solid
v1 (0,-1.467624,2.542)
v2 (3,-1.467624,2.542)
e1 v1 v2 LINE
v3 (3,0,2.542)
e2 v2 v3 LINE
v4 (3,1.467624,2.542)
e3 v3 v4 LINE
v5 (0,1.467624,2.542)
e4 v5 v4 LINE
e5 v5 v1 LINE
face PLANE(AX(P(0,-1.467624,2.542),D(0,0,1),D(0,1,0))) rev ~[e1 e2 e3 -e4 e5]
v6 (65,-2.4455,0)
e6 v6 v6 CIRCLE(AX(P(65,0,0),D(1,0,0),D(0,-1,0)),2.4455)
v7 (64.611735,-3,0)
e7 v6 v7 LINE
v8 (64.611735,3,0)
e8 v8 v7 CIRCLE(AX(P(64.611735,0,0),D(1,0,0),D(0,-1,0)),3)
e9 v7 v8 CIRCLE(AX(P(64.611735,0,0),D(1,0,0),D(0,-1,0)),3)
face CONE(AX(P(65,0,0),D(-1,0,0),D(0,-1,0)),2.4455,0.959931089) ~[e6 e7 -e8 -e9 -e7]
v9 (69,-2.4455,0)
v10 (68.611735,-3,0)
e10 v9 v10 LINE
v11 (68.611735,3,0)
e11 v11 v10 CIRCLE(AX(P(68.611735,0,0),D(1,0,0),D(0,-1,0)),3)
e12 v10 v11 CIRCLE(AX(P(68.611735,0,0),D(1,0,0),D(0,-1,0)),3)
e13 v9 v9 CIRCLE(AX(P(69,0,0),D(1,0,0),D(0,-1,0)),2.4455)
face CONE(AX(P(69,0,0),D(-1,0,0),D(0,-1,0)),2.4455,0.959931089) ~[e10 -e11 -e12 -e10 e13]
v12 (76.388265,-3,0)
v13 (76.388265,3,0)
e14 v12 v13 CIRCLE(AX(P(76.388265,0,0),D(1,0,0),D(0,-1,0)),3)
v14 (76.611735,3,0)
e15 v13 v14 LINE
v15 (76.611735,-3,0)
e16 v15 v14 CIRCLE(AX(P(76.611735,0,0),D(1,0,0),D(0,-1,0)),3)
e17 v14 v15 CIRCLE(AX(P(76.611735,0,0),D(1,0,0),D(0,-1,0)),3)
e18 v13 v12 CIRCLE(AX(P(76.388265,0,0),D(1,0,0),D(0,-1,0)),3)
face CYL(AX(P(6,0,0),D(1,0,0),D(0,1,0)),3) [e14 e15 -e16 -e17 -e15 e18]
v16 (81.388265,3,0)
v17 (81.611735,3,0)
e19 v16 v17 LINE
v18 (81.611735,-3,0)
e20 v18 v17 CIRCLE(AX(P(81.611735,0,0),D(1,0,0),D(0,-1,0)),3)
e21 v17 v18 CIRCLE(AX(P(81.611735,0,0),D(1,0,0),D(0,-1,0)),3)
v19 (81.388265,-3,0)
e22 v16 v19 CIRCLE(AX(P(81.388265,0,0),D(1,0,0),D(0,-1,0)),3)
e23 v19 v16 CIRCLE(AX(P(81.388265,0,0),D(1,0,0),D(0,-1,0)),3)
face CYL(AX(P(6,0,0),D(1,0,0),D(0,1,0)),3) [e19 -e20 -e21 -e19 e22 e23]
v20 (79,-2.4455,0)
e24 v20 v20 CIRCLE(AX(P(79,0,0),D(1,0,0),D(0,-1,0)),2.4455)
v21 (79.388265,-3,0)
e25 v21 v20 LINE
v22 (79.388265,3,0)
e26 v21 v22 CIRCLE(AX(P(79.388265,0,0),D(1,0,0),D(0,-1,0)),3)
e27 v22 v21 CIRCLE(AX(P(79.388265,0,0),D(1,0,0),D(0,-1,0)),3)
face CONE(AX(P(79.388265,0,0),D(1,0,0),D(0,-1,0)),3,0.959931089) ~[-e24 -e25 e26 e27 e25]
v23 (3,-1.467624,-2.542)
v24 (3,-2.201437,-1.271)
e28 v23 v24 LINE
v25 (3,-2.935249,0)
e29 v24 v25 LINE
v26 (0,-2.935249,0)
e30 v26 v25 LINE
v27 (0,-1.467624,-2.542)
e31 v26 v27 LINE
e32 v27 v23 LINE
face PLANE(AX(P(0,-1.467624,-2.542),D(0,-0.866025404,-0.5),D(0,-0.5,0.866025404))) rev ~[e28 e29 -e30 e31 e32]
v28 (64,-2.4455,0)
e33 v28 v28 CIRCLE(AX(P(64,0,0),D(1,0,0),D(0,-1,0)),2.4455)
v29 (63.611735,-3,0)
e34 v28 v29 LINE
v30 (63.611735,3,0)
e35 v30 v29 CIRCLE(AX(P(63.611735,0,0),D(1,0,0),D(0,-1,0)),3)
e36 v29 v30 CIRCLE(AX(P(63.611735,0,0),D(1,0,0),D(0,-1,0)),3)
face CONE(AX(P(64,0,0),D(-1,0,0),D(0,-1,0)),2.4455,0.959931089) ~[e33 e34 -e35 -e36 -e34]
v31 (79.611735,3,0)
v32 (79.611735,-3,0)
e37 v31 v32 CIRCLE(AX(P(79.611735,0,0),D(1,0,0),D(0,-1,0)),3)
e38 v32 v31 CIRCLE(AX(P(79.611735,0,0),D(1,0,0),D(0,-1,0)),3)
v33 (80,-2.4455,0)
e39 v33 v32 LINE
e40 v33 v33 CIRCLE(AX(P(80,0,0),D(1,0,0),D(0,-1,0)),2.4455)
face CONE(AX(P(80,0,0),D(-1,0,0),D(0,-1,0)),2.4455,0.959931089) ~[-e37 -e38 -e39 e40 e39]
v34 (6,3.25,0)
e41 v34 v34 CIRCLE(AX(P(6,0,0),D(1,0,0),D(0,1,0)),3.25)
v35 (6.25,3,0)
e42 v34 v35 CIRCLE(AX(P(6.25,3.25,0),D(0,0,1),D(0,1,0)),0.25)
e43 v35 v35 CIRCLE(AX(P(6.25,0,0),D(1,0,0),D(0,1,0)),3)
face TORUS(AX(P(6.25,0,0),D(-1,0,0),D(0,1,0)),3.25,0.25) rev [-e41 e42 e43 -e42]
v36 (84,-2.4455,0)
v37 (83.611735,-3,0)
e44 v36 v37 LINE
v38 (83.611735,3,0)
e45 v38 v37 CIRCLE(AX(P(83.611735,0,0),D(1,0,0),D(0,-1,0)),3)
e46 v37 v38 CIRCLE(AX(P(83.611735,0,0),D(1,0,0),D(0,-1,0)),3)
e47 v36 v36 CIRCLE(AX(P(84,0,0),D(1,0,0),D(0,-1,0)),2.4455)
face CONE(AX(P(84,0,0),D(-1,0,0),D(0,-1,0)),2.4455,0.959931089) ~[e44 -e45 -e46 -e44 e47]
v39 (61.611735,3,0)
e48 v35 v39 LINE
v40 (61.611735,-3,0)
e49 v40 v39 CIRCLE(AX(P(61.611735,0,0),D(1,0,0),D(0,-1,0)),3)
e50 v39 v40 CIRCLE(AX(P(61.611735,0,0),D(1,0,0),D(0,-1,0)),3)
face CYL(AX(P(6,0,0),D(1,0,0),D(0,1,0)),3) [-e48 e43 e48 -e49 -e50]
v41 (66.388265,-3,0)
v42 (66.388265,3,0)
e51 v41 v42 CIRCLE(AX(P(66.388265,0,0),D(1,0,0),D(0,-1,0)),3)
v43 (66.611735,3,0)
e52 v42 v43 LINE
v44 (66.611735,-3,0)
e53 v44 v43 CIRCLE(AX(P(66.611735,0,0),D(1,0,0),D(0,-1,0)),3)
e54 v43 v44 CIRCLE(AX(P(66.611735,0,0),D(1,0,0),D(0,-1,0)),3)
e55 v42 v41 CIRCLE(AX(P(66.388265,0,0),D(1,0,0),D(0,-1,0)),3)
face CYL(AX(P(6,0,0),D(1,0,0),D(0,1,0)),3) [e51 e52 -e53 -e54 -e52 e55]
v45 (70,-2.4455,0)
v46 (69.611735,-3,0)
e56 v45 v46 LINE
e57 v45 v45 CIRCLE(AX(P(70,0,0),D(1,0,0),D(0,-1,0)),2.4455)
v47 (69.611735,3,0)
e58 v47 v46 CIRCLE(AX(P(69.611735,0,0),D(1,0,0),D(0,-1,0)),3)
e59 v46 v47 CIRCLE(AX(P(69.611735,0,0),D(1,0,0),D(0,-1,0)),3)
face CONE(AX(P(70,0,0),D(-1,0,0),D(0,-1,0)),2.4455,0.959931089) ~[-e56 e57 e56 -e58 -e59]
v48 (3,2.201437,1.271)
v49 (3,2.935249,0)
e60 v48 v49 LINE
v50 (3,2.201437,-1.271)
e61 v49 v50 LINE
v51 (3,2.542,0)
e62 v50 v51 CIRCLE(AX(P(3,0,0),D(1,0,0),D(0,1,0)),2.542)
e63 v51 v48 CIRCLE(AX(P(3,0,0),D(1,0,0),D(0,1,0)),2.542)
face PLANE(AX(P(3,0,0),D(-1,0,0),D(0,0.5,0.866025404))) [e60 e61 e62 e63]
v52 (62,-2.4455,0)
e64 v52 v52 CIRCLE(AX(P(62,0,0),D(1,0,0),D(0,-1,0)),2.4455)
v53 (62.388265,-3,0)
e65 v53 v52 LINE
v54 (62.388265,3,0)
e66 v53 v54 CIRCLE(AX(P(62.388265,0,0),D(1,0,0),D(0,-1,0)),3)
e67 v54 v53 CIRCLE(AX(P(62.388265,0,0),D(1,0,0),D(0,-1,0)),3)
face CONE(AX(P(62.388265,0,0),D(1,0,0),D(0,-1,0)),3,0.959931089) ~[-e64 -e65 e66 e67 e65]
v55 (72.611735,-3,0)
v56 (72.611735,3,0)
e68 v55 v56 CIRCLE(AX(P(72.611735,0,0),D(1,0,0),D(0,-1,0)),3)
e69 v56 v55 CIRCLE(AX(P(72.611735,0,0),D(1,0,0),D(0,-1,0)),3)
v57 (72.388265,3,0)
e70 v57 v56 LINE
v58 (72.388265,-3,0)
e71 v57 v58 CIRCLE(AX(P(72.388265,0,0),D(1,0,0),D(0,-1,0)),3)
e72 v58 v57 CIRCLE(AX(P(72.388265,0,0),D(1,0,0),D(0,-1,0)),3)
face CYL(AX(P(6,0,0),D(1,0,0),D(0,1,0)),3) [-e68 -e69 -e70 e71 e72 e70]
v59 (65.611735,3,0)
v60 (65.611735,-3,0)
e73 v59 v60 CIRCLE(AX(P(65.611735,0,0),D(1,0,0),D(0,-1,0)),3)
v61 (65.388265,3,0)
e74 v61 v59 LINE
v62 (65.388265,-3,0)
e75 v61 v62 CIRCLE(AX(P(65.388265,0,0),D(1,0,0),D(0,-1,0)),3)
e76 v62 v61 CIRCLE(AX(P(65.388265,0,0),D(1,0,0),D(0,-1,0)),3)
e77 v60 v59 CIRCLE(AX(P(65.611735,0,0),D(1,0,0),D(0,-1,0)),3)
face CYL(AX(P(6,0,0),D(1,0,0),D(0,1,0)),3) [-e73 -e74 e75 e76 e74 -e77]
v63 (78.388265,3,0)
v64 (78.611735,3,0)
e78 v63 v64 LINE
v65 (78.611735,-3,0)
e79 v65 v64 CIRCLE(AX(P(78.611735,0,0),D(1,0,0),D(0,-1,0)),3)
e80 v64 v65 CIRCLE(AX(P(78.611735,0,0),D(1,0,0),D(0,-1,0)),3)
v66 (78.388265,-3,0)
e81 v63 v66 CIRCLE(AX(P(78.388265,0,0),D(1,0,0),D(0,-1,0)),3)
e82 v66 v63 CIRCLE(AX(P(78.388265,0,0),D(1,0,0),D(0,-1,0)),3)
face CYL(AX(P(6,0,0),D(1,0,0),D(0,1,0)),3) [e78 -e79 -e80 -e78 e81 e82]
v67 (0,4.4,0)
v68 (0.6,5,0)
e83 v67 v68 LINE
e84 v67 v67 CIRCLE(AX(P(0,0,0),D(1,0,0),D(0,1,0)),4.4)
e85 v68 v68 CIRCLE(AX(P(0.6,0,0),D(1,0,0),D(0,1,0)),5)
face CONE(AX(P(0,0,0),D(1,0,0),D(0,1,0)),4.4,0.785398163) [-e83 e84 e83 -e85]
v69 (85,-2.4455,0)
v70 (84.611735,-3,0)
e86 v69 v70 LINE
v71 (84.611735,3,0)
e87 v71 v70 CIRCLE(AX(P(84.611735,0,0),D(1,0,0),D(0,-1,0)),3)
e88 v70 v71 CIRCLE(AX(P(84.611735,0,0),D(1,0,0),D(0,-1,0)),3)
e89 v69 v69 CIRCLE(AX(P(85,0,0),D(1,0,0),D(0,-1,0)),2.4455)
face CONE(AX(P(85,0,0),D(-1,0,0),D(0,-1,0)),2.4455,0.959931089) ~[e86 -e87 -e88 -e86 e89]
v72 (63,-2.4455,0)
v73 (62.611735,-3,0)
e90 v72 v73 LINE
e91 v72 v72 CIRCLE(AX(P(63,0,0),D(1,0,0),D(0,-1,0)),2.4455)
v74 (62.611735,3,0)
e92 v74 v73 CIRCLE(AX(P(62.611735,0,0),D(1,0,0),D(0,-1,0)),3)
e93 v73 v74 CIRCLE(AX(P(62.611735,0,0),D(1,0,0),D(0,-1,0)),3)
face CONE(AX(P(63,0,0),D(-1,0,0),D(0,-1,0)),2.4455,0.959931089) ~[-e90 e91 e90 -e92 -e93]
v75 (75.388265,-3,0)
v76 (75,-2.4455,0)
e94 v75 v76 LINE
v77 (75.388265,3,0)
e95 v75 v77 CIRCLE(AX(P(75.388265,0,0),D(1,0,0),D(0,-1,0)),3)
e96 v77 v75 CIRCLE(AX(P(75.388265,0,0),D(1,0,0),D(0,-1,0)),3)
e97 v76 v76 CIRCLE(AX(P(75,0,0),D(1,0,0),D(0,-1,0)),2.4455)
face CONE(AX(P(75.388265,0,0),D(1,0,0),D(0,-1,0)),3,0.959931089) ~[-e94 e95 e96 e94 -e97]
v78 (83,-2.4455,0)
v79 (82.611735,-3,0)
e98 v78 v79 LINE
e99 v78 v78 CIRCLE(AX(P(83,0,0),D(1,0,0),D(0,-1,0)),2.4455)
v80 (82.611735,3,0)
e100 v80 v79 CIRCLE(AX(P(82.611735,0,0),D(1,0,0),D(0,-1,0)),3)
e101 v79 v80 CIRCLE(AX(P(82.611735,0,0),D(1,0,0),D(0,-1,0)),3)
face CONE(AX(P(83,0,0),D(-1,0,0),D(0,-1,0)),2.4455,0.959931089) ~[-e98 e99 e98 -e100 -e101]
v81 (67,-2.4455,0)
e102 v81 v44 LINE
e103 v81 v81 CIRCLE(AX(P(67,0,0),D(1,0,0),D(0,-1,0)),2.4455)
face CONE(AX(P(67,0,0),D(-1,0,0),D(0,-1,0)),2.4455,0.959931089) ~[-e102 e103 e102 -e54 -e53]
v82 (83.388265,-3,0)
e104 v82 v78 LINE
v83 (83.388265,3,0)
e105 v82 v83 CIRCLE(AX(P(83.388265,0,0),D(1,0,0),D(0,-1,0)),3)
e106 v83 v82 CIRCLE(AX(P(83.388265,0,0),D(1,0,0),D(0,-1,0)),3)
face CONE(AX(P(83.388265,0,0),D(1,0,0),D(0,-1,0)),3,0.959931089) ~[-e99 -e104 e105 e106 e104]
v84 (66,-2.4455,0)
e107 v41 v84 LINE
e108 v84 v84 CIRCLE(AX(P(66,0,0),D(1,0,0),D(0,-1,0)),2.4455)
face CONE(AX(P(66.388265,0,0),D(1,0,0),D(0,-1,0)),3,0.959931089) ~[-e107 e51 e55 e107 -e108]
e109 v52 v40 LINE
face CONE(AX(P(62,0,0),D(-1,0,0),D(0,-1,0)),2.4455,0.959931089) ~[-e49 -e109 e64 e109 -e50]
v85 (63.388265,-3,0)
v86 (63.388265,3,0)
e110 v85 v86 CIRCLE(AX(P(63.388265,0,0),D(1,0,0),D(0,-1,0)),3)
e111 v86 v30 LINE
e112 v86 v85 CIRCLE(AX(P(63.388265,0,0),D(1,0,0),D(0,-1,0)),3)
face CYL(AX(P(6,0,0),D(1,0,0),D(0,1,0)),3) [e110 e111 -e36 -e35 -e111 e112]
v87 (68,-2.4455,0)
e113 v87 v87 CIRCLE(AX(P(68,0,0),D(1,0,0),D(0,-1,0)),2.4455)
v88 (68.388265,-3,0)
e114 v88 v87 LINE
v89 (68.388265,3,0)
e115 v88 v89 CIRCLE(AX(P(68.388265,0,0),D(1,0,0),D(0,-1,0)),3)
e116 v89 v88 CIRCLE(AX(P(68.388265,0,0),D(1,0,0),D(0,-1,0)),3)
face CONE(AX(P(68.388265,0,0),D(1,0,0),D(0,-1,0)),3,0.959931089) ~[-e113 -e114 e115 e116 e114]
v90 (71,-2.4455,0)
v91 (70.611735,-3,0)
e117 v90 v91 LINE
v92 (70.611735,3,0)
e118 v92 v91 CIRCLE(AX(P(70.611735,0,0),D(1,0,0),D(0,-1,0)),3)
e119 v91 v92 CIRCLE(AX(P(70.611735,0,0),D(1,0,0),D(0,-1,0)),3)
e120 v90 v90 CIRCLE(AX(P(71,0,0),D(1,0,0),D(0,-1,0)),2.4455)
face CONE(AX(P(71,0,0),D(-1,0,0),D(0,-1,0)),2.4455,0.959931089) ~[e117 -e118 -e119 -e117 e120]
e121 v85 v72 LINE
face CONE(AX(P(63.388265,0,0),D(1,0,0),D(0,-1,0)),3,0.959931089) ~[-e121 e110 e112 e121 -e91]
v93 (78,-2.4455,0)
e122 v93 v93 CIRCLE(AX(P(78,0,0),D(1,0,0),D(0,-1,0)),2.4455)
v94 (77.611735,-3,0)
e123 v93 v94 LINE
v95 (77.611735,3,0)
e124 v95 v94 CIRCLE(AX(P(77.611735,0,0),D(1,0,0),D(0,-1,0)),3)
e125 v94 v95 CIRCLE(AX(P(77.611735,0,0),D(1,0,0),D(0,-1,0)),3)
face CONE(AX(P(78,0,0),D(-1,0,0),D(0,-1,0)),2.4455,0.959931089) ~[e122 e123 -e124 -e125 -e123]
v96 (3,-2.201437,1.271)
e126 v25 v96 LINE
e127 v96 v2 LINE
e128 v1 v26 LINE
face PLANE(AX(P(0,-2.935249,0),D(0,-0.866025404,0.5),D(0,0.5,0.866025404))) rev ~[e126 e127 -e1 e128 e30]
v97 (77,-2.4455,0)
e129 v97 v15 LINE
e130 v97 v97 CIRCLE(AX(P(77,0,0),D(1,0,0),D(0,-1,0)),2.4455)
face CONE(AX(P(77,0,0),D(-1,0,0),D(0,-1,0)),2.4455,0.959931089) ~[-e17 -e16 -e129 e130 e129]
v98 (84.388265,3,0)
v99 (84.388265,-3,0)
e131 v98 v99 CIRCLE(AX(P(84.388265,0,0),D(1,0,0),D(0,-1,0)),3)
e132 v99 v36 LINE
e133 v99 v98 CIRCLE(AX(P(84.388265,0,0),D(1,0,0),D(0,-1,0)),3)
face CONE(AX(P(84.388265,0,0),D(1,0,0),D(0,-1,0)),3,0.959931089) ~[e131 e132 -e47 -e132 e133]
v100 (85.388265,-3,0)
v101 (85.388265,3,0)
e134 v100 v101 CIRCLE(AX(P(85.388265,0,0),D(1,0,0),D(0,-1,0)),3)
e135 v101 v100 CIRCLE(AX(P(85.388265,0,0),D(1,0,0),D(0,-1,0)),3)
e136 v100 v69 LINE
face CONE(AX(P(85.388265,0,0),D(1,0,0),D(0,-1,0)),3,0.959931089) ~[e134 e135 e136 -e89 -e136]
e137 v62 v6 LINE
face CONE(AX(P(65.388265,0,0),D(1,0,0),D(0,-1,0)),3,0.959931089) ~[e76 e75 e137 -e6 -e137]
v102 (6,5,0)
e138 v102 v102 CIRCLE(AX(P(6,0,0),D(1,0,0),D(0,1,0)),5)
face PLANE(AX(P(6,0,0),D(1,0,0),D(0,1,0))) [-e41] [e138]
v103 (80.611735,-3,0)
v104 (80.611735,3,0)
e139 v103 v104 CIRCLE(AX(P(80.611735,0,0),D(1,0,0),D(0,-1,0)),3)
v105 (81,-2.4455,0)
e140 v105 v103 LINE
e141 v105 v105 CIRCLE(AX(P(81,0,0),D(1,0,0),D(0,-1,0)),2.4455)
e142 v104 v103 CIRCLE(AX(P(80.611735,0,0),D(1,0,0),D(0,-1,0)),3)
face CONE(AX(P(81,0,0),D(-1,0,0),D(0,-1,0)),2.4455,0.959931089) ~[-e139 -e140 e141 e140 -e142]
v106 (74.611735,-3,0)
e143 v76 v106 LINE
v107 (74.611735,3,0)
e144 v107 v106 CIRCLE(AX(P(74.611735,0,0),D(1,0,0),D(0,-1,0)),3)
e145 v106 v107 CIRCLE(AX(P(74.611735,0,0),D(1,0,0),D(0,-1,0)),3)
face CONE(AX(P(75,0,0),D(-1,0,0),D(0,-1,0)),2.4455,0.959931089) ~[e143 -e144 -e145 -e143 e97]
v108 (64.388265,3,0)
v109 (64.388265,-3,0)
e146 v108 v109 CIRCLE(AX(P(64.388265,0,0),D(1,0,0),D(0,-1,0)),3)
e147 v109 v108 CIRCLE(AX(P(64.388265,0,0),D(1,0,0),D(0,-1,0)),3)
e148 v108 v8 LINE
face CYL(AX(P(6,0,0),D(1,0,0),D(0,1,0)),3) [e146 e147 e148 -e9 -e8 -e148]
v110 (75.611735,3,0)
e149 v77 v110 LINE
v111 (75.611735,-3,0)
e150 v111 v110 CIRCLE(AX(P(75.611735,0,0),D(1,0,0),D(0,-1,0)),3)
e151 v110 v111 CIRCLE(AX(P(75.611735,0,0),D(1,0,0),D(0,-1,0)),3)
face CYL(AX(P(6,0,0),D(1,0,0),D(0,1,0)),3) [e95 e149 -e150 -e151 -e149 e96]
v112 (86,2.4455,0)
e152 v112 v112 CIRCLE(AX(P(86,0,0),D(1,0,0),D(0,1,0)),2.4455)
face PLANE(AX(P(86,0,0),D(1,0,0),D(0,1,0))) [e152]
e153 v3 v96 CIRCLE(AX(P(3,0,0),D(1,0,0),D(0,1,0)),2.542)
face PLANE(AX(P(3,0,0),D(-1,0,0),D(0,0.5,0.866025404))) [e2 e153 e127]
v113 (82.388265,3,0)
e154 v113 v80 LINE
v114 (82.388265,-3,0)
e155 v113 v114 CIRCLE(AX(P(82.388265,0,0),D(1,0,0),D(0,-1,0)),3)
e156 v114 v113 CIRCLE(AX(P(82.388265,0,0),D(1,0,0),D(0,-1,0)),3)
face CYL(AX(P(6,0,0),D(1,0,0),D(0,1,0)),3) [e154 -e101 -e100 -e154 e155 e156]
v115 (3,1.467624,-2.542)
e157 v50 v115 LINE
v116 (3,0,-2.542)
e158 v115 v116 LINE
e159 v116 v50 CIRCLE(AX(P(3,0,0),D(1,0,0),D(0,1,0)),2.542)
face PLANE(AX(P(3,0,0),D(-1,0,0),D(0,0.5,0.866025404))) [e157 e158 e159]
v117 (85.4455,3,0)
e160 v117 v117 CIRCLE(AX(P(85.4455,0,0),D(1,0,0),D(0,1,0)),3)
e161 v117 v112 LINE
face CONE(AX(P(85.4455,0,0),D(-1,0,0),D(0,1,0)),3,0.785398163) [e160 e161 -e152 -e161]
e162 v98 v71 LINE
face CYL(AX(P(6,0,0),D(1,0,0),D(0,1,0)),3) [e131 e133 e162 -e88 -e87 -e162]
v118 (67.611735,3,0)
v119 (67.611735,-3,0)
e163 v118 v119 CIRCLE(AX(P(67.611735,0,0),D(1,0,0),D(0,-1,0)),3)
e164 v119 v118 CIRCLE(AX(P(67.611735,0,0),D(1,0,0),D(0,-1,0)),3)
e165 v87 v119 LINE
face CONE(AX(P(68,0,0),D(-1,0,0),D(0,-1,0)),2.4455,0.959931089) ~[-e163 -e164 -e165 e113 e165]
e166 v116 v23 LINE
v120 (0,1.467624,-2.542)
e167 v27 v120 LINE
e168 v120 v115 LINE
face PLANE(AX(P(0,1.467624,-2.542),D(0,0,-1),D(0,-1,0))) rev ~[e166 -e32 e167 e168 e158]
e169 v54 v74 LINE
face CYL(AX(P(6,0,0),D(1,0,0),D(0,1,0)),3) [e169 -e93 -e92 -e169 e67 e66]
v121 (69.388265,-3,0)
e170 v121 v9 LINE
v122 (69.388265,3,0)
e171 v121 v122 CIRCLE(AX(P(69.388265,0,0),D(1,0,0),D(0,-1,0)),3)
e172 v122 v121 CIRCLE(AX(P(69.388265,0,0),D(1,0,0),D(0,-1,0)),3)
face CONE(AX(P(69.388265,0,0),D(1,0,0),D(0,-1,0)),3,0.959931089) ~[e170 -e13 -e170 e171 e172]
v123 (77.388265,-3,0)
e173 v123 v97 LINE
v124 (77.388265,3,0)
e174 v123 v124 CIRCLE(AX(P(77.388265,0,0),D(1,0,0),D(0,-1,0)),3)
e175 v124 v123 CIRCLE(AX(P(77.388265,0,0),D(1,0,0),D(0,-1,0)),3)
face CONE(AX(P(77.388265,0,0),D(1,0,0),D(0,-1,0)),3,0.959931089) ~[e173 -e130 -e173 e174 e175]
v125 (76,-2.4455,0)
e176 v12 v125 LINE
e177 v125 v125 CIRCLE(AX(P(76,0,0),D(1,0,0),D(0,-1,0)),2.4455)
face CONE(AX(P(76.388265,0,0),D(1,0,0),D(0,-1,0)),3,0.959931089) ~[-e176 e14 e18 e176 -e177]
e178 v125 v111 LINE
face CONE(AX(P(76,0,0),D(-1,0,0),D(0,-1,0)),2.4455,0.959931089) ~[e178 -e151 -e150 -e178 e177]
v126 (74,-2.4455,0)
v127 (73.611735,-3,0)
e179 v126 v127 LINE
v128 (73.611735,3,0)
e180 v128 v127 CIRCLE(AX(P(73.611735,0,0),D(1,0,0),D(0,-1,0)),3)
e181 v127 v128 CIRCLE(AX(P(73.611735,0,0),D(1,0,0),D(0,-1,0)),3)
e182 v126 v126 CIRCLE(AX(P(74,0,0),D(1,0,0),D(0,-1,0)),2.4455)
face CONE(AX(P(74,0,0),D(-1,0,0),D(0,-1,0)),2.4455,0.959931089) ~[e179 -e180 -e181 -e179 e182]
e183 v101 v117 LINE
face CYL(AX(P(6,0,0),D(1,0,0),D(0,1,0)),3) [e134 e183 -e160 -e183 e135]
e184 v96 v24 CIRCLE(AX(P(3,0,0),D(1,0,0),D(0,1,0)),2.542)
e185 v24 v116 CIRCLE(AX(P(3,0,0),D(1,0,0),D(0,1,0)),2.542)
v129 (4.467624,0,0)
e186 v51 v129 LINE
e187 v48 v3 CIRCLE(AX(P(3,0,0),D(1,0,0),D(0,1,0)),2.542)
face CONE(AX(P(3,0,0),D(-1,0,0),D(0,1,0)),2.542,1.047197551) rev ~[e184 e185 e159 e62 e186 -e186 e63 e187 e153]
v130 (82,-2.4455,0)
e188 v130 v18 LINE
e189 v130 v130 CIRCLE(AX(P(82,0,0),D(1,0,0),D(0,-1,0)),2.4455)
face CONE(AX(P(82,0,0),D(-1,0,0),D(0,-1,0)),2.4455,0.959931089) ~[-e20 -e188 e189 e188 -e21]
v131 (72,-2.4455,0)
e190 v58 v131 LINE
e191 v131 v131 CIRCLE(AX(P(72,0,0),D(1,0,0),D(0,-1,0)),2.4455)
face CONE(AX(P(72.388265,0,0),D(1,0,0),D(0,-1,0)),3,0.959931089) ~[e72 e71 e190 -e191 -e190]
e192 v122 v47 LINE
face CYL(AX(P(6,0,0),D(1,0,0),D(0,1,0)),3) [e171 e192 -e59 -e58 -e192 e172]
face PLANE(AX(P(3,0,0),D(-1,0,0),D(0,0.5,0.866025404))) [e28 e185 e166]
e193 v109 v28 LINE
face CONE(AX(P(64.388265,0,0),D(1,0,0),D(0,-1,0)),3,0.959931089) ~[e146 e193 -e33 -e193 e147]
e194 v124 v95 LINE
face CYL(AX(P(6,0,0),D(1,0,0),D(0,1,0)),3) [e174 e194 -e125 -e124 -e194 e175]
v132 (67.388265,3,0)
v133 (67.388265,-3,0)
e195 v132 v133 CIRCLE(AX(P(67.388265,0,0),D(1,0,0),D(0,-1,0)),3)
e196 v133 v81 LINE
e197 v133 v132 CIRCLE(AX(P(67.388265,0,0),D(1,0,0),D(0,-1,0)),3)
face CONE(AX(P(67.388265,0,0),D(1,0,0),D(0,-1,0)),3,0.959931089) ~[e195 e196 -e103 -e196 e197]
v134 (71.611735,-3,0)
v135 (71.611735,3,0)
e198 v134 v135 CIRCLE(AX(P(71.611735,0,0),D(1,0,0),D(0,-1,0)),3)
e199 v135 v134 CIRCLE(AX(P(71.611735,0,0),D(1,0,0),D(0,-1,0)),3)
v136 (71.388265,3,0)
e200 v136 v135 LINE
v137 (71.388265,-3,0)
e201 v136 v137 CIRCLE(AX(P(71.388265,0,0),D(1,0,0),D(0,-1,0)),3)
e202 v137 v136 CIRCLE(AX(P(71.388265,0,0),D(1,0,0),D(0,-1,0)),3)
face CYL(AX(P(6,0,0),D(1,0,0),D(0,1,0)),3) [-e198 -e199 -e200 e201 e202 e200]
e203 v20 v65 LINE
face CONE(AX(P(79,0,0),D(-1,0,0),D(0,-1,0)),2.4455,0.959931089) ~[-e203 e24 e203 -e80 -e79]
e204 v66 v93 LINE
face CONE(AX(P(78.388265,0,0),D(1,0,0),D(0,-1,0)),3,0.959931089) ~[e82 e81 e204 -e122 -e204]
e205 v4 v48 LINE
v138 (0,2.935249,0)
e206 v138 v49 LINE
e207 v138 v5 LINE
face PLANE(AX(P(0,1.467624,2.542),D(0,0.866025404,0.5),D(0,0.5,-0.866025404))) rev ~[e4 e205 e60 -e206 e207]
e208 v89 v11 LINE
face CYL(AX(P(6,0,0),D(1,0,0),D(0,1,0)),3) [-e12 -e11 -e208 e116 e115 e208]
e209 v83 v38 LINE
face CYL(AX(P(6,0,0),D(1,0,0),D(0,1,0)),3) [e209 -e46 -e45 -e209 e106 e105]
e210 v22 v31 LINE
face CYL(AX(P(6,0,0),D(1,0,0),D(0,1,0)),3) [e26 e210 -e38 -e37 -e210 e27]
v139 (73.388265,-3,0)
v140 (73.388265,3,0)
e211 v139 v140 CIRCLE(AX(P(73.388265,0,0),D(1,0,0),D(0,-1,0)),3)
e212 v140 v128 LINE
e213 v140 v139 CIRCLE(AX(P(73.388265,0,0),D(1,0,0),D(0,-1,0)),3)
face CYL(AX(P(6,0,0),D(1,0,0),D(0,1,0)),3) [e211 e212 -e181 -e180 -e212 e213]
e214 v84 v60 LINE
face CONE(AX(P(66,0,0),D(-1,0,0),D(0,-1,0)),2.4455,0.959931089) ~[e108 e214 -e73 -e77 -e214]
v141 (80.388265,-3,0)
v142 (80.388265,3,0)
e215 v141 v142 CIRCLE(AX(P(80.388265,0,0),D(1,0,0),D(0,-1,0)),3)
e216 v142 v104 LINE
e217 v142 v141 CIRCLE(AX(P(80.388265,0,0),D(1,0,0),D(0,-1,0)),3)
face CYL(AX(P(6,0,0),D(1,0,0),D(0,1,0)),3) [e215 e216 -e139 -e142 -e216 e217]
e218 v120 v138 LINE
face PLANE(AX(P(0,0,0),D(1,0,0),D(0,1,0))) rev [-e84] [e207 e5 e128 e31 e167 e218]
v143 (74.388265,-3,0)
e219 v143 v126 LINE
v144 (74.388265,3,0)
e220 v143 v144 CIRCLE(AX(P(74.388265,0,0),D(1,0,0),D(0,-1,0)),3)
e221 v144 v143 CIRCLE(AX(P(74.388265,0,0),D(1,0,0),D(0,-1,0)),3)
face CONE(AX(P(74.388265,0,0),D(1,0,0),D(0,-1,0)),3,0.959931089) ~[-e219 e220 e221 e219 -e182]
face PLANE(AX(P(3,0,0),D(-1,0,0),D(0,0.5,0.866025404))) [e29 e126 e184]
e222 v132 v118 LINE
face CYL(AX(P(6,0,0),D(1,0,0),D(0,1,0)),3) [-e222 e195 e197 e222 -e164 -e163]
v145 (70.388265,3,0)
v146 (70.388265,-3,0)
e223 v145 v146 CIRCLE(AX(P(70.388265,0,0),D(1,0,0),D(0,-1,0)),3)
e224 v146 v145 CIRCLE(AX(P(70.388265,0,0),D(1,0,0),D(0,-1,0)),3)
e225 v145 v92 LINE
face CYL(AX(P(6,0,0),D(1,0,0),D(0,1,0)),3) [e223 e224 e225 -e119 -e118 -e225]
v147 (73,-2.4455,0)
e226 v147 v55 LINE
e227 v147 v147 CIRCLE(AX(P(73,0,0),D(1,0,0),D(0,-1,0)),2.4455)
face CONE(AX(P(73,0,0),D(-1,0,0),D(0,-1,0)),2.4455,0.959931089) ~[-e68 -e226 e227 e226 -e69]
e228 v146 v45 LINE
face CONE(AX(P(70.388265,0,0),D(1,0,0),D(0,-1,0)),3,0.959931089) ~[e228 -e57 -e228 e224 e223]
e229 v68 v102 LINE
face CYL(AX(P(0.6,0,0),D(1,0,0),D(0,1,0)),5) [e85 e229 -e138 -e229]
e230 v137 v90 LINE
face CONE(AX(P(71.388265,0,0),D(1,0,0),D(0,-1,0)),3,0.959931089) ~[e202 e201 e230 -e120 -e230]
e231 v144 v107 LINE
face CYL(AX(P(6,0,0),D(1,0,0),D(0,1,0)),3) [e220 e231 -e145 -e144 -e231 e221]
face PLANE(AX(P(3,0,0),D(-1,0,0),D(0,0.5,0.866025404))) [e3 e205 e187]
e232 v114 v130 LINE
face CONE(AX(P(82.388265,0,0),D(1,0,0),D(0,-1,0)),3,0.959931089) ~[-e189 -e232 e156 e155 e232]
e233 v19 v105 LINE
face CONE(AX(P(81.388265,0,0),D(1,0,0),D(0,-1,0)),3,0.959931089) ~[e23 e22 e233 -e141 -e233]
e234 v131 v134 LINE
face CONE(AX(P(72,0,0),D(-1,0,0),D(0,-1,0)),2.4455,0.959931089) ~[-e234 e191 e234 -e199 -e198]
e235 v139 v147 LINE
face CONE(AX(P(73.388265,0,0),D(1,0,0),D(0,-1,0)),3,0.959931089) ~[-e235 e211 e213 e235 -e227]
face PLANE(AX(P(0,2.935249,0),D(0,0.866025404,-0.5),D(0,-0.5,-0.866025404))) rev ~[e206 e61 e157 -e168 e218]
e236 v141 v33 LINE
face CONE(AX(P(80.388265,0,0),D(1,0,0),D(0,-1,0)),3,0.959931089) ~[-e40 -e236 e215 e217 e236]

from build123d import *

# Parameters (mm, degrees)
FILLET1_R       = 0.25
HEX_2_DEPTH     = 3
THDSCHPAT_COUNT = 24
THDSCHPAT_PITCH = 1


with BuildPart() as part:
    # BodySke → Base-Revolve (revolve)
    with BuildSketch(Plane.XY):
        Polygon((0, 0), (0, 4.4), (0.6, 5), (6, 5), (6, 3), (85.4455, 3), (86, 2.4455), (86, 0), align=None)
    revolve(axis=Axis((-31.75, 0, 0), (1, 0, 0)))

    # Fillet1
    fillet1_edges = [part.edges().sort_by_distance(p)[0] for p in [
        (6, -3, 0),
    ]]
    fillet(fillet1_edges, radius=FILLET1_R)

    # Sketch2 → Hex-PreBroach (revolve, cut)
    with BuildSketch(Plane.XY):
        Polygon((0, 2.542), (3, 2.542), (4.467624384, 0), (0, 0), align=None)
    revolve(axis=Axis((0, 0, 0), (1, 0, 0)), mode=Mode.SUBTRACT)

    # Sketch3 → Hex 2 (cut)
    with BuildSketch(Plane(origin=(0, 0, 0), x_dir=(0, 0.5, 0.866025404), z_dir=(-1, 0, 0))):
        Polygon((1.467624384, 2.542), (-1.467624384, 2.542), (-2.935248769, 0), (-1.467624384, -2.542), (1.467624384, -2.542), (2.935248769, 0), align=None)
    extrude(amount=-HEX_2_DEPTH, mode=Mode.SUBTRACT)

    # ThdSchSke → ThreadSchematic (revolve, cut)
    with BuildSketch(Plane.XY):
        Polygon((62, -2.4455), (61.61173492, -3), (61.61173492, -3.75), (62.38826508, -3.75), (62.38826508, -3), align=None)
    threadschematic = revolve(axis=Axis((-3.175, 0, 0), (1, 0, 0)), mode=Mode.SUBTRACT)

    # ThdSchPat: ThreadSchematic ×24
    with Locations(*[(i * THDSCHPAT_PITCH, 0, 0) for i in range(1, THDSCHPAT_COUNT)]):
        add(threadschematic, mode=Mode.SUBTRACT)


solid = part.part
